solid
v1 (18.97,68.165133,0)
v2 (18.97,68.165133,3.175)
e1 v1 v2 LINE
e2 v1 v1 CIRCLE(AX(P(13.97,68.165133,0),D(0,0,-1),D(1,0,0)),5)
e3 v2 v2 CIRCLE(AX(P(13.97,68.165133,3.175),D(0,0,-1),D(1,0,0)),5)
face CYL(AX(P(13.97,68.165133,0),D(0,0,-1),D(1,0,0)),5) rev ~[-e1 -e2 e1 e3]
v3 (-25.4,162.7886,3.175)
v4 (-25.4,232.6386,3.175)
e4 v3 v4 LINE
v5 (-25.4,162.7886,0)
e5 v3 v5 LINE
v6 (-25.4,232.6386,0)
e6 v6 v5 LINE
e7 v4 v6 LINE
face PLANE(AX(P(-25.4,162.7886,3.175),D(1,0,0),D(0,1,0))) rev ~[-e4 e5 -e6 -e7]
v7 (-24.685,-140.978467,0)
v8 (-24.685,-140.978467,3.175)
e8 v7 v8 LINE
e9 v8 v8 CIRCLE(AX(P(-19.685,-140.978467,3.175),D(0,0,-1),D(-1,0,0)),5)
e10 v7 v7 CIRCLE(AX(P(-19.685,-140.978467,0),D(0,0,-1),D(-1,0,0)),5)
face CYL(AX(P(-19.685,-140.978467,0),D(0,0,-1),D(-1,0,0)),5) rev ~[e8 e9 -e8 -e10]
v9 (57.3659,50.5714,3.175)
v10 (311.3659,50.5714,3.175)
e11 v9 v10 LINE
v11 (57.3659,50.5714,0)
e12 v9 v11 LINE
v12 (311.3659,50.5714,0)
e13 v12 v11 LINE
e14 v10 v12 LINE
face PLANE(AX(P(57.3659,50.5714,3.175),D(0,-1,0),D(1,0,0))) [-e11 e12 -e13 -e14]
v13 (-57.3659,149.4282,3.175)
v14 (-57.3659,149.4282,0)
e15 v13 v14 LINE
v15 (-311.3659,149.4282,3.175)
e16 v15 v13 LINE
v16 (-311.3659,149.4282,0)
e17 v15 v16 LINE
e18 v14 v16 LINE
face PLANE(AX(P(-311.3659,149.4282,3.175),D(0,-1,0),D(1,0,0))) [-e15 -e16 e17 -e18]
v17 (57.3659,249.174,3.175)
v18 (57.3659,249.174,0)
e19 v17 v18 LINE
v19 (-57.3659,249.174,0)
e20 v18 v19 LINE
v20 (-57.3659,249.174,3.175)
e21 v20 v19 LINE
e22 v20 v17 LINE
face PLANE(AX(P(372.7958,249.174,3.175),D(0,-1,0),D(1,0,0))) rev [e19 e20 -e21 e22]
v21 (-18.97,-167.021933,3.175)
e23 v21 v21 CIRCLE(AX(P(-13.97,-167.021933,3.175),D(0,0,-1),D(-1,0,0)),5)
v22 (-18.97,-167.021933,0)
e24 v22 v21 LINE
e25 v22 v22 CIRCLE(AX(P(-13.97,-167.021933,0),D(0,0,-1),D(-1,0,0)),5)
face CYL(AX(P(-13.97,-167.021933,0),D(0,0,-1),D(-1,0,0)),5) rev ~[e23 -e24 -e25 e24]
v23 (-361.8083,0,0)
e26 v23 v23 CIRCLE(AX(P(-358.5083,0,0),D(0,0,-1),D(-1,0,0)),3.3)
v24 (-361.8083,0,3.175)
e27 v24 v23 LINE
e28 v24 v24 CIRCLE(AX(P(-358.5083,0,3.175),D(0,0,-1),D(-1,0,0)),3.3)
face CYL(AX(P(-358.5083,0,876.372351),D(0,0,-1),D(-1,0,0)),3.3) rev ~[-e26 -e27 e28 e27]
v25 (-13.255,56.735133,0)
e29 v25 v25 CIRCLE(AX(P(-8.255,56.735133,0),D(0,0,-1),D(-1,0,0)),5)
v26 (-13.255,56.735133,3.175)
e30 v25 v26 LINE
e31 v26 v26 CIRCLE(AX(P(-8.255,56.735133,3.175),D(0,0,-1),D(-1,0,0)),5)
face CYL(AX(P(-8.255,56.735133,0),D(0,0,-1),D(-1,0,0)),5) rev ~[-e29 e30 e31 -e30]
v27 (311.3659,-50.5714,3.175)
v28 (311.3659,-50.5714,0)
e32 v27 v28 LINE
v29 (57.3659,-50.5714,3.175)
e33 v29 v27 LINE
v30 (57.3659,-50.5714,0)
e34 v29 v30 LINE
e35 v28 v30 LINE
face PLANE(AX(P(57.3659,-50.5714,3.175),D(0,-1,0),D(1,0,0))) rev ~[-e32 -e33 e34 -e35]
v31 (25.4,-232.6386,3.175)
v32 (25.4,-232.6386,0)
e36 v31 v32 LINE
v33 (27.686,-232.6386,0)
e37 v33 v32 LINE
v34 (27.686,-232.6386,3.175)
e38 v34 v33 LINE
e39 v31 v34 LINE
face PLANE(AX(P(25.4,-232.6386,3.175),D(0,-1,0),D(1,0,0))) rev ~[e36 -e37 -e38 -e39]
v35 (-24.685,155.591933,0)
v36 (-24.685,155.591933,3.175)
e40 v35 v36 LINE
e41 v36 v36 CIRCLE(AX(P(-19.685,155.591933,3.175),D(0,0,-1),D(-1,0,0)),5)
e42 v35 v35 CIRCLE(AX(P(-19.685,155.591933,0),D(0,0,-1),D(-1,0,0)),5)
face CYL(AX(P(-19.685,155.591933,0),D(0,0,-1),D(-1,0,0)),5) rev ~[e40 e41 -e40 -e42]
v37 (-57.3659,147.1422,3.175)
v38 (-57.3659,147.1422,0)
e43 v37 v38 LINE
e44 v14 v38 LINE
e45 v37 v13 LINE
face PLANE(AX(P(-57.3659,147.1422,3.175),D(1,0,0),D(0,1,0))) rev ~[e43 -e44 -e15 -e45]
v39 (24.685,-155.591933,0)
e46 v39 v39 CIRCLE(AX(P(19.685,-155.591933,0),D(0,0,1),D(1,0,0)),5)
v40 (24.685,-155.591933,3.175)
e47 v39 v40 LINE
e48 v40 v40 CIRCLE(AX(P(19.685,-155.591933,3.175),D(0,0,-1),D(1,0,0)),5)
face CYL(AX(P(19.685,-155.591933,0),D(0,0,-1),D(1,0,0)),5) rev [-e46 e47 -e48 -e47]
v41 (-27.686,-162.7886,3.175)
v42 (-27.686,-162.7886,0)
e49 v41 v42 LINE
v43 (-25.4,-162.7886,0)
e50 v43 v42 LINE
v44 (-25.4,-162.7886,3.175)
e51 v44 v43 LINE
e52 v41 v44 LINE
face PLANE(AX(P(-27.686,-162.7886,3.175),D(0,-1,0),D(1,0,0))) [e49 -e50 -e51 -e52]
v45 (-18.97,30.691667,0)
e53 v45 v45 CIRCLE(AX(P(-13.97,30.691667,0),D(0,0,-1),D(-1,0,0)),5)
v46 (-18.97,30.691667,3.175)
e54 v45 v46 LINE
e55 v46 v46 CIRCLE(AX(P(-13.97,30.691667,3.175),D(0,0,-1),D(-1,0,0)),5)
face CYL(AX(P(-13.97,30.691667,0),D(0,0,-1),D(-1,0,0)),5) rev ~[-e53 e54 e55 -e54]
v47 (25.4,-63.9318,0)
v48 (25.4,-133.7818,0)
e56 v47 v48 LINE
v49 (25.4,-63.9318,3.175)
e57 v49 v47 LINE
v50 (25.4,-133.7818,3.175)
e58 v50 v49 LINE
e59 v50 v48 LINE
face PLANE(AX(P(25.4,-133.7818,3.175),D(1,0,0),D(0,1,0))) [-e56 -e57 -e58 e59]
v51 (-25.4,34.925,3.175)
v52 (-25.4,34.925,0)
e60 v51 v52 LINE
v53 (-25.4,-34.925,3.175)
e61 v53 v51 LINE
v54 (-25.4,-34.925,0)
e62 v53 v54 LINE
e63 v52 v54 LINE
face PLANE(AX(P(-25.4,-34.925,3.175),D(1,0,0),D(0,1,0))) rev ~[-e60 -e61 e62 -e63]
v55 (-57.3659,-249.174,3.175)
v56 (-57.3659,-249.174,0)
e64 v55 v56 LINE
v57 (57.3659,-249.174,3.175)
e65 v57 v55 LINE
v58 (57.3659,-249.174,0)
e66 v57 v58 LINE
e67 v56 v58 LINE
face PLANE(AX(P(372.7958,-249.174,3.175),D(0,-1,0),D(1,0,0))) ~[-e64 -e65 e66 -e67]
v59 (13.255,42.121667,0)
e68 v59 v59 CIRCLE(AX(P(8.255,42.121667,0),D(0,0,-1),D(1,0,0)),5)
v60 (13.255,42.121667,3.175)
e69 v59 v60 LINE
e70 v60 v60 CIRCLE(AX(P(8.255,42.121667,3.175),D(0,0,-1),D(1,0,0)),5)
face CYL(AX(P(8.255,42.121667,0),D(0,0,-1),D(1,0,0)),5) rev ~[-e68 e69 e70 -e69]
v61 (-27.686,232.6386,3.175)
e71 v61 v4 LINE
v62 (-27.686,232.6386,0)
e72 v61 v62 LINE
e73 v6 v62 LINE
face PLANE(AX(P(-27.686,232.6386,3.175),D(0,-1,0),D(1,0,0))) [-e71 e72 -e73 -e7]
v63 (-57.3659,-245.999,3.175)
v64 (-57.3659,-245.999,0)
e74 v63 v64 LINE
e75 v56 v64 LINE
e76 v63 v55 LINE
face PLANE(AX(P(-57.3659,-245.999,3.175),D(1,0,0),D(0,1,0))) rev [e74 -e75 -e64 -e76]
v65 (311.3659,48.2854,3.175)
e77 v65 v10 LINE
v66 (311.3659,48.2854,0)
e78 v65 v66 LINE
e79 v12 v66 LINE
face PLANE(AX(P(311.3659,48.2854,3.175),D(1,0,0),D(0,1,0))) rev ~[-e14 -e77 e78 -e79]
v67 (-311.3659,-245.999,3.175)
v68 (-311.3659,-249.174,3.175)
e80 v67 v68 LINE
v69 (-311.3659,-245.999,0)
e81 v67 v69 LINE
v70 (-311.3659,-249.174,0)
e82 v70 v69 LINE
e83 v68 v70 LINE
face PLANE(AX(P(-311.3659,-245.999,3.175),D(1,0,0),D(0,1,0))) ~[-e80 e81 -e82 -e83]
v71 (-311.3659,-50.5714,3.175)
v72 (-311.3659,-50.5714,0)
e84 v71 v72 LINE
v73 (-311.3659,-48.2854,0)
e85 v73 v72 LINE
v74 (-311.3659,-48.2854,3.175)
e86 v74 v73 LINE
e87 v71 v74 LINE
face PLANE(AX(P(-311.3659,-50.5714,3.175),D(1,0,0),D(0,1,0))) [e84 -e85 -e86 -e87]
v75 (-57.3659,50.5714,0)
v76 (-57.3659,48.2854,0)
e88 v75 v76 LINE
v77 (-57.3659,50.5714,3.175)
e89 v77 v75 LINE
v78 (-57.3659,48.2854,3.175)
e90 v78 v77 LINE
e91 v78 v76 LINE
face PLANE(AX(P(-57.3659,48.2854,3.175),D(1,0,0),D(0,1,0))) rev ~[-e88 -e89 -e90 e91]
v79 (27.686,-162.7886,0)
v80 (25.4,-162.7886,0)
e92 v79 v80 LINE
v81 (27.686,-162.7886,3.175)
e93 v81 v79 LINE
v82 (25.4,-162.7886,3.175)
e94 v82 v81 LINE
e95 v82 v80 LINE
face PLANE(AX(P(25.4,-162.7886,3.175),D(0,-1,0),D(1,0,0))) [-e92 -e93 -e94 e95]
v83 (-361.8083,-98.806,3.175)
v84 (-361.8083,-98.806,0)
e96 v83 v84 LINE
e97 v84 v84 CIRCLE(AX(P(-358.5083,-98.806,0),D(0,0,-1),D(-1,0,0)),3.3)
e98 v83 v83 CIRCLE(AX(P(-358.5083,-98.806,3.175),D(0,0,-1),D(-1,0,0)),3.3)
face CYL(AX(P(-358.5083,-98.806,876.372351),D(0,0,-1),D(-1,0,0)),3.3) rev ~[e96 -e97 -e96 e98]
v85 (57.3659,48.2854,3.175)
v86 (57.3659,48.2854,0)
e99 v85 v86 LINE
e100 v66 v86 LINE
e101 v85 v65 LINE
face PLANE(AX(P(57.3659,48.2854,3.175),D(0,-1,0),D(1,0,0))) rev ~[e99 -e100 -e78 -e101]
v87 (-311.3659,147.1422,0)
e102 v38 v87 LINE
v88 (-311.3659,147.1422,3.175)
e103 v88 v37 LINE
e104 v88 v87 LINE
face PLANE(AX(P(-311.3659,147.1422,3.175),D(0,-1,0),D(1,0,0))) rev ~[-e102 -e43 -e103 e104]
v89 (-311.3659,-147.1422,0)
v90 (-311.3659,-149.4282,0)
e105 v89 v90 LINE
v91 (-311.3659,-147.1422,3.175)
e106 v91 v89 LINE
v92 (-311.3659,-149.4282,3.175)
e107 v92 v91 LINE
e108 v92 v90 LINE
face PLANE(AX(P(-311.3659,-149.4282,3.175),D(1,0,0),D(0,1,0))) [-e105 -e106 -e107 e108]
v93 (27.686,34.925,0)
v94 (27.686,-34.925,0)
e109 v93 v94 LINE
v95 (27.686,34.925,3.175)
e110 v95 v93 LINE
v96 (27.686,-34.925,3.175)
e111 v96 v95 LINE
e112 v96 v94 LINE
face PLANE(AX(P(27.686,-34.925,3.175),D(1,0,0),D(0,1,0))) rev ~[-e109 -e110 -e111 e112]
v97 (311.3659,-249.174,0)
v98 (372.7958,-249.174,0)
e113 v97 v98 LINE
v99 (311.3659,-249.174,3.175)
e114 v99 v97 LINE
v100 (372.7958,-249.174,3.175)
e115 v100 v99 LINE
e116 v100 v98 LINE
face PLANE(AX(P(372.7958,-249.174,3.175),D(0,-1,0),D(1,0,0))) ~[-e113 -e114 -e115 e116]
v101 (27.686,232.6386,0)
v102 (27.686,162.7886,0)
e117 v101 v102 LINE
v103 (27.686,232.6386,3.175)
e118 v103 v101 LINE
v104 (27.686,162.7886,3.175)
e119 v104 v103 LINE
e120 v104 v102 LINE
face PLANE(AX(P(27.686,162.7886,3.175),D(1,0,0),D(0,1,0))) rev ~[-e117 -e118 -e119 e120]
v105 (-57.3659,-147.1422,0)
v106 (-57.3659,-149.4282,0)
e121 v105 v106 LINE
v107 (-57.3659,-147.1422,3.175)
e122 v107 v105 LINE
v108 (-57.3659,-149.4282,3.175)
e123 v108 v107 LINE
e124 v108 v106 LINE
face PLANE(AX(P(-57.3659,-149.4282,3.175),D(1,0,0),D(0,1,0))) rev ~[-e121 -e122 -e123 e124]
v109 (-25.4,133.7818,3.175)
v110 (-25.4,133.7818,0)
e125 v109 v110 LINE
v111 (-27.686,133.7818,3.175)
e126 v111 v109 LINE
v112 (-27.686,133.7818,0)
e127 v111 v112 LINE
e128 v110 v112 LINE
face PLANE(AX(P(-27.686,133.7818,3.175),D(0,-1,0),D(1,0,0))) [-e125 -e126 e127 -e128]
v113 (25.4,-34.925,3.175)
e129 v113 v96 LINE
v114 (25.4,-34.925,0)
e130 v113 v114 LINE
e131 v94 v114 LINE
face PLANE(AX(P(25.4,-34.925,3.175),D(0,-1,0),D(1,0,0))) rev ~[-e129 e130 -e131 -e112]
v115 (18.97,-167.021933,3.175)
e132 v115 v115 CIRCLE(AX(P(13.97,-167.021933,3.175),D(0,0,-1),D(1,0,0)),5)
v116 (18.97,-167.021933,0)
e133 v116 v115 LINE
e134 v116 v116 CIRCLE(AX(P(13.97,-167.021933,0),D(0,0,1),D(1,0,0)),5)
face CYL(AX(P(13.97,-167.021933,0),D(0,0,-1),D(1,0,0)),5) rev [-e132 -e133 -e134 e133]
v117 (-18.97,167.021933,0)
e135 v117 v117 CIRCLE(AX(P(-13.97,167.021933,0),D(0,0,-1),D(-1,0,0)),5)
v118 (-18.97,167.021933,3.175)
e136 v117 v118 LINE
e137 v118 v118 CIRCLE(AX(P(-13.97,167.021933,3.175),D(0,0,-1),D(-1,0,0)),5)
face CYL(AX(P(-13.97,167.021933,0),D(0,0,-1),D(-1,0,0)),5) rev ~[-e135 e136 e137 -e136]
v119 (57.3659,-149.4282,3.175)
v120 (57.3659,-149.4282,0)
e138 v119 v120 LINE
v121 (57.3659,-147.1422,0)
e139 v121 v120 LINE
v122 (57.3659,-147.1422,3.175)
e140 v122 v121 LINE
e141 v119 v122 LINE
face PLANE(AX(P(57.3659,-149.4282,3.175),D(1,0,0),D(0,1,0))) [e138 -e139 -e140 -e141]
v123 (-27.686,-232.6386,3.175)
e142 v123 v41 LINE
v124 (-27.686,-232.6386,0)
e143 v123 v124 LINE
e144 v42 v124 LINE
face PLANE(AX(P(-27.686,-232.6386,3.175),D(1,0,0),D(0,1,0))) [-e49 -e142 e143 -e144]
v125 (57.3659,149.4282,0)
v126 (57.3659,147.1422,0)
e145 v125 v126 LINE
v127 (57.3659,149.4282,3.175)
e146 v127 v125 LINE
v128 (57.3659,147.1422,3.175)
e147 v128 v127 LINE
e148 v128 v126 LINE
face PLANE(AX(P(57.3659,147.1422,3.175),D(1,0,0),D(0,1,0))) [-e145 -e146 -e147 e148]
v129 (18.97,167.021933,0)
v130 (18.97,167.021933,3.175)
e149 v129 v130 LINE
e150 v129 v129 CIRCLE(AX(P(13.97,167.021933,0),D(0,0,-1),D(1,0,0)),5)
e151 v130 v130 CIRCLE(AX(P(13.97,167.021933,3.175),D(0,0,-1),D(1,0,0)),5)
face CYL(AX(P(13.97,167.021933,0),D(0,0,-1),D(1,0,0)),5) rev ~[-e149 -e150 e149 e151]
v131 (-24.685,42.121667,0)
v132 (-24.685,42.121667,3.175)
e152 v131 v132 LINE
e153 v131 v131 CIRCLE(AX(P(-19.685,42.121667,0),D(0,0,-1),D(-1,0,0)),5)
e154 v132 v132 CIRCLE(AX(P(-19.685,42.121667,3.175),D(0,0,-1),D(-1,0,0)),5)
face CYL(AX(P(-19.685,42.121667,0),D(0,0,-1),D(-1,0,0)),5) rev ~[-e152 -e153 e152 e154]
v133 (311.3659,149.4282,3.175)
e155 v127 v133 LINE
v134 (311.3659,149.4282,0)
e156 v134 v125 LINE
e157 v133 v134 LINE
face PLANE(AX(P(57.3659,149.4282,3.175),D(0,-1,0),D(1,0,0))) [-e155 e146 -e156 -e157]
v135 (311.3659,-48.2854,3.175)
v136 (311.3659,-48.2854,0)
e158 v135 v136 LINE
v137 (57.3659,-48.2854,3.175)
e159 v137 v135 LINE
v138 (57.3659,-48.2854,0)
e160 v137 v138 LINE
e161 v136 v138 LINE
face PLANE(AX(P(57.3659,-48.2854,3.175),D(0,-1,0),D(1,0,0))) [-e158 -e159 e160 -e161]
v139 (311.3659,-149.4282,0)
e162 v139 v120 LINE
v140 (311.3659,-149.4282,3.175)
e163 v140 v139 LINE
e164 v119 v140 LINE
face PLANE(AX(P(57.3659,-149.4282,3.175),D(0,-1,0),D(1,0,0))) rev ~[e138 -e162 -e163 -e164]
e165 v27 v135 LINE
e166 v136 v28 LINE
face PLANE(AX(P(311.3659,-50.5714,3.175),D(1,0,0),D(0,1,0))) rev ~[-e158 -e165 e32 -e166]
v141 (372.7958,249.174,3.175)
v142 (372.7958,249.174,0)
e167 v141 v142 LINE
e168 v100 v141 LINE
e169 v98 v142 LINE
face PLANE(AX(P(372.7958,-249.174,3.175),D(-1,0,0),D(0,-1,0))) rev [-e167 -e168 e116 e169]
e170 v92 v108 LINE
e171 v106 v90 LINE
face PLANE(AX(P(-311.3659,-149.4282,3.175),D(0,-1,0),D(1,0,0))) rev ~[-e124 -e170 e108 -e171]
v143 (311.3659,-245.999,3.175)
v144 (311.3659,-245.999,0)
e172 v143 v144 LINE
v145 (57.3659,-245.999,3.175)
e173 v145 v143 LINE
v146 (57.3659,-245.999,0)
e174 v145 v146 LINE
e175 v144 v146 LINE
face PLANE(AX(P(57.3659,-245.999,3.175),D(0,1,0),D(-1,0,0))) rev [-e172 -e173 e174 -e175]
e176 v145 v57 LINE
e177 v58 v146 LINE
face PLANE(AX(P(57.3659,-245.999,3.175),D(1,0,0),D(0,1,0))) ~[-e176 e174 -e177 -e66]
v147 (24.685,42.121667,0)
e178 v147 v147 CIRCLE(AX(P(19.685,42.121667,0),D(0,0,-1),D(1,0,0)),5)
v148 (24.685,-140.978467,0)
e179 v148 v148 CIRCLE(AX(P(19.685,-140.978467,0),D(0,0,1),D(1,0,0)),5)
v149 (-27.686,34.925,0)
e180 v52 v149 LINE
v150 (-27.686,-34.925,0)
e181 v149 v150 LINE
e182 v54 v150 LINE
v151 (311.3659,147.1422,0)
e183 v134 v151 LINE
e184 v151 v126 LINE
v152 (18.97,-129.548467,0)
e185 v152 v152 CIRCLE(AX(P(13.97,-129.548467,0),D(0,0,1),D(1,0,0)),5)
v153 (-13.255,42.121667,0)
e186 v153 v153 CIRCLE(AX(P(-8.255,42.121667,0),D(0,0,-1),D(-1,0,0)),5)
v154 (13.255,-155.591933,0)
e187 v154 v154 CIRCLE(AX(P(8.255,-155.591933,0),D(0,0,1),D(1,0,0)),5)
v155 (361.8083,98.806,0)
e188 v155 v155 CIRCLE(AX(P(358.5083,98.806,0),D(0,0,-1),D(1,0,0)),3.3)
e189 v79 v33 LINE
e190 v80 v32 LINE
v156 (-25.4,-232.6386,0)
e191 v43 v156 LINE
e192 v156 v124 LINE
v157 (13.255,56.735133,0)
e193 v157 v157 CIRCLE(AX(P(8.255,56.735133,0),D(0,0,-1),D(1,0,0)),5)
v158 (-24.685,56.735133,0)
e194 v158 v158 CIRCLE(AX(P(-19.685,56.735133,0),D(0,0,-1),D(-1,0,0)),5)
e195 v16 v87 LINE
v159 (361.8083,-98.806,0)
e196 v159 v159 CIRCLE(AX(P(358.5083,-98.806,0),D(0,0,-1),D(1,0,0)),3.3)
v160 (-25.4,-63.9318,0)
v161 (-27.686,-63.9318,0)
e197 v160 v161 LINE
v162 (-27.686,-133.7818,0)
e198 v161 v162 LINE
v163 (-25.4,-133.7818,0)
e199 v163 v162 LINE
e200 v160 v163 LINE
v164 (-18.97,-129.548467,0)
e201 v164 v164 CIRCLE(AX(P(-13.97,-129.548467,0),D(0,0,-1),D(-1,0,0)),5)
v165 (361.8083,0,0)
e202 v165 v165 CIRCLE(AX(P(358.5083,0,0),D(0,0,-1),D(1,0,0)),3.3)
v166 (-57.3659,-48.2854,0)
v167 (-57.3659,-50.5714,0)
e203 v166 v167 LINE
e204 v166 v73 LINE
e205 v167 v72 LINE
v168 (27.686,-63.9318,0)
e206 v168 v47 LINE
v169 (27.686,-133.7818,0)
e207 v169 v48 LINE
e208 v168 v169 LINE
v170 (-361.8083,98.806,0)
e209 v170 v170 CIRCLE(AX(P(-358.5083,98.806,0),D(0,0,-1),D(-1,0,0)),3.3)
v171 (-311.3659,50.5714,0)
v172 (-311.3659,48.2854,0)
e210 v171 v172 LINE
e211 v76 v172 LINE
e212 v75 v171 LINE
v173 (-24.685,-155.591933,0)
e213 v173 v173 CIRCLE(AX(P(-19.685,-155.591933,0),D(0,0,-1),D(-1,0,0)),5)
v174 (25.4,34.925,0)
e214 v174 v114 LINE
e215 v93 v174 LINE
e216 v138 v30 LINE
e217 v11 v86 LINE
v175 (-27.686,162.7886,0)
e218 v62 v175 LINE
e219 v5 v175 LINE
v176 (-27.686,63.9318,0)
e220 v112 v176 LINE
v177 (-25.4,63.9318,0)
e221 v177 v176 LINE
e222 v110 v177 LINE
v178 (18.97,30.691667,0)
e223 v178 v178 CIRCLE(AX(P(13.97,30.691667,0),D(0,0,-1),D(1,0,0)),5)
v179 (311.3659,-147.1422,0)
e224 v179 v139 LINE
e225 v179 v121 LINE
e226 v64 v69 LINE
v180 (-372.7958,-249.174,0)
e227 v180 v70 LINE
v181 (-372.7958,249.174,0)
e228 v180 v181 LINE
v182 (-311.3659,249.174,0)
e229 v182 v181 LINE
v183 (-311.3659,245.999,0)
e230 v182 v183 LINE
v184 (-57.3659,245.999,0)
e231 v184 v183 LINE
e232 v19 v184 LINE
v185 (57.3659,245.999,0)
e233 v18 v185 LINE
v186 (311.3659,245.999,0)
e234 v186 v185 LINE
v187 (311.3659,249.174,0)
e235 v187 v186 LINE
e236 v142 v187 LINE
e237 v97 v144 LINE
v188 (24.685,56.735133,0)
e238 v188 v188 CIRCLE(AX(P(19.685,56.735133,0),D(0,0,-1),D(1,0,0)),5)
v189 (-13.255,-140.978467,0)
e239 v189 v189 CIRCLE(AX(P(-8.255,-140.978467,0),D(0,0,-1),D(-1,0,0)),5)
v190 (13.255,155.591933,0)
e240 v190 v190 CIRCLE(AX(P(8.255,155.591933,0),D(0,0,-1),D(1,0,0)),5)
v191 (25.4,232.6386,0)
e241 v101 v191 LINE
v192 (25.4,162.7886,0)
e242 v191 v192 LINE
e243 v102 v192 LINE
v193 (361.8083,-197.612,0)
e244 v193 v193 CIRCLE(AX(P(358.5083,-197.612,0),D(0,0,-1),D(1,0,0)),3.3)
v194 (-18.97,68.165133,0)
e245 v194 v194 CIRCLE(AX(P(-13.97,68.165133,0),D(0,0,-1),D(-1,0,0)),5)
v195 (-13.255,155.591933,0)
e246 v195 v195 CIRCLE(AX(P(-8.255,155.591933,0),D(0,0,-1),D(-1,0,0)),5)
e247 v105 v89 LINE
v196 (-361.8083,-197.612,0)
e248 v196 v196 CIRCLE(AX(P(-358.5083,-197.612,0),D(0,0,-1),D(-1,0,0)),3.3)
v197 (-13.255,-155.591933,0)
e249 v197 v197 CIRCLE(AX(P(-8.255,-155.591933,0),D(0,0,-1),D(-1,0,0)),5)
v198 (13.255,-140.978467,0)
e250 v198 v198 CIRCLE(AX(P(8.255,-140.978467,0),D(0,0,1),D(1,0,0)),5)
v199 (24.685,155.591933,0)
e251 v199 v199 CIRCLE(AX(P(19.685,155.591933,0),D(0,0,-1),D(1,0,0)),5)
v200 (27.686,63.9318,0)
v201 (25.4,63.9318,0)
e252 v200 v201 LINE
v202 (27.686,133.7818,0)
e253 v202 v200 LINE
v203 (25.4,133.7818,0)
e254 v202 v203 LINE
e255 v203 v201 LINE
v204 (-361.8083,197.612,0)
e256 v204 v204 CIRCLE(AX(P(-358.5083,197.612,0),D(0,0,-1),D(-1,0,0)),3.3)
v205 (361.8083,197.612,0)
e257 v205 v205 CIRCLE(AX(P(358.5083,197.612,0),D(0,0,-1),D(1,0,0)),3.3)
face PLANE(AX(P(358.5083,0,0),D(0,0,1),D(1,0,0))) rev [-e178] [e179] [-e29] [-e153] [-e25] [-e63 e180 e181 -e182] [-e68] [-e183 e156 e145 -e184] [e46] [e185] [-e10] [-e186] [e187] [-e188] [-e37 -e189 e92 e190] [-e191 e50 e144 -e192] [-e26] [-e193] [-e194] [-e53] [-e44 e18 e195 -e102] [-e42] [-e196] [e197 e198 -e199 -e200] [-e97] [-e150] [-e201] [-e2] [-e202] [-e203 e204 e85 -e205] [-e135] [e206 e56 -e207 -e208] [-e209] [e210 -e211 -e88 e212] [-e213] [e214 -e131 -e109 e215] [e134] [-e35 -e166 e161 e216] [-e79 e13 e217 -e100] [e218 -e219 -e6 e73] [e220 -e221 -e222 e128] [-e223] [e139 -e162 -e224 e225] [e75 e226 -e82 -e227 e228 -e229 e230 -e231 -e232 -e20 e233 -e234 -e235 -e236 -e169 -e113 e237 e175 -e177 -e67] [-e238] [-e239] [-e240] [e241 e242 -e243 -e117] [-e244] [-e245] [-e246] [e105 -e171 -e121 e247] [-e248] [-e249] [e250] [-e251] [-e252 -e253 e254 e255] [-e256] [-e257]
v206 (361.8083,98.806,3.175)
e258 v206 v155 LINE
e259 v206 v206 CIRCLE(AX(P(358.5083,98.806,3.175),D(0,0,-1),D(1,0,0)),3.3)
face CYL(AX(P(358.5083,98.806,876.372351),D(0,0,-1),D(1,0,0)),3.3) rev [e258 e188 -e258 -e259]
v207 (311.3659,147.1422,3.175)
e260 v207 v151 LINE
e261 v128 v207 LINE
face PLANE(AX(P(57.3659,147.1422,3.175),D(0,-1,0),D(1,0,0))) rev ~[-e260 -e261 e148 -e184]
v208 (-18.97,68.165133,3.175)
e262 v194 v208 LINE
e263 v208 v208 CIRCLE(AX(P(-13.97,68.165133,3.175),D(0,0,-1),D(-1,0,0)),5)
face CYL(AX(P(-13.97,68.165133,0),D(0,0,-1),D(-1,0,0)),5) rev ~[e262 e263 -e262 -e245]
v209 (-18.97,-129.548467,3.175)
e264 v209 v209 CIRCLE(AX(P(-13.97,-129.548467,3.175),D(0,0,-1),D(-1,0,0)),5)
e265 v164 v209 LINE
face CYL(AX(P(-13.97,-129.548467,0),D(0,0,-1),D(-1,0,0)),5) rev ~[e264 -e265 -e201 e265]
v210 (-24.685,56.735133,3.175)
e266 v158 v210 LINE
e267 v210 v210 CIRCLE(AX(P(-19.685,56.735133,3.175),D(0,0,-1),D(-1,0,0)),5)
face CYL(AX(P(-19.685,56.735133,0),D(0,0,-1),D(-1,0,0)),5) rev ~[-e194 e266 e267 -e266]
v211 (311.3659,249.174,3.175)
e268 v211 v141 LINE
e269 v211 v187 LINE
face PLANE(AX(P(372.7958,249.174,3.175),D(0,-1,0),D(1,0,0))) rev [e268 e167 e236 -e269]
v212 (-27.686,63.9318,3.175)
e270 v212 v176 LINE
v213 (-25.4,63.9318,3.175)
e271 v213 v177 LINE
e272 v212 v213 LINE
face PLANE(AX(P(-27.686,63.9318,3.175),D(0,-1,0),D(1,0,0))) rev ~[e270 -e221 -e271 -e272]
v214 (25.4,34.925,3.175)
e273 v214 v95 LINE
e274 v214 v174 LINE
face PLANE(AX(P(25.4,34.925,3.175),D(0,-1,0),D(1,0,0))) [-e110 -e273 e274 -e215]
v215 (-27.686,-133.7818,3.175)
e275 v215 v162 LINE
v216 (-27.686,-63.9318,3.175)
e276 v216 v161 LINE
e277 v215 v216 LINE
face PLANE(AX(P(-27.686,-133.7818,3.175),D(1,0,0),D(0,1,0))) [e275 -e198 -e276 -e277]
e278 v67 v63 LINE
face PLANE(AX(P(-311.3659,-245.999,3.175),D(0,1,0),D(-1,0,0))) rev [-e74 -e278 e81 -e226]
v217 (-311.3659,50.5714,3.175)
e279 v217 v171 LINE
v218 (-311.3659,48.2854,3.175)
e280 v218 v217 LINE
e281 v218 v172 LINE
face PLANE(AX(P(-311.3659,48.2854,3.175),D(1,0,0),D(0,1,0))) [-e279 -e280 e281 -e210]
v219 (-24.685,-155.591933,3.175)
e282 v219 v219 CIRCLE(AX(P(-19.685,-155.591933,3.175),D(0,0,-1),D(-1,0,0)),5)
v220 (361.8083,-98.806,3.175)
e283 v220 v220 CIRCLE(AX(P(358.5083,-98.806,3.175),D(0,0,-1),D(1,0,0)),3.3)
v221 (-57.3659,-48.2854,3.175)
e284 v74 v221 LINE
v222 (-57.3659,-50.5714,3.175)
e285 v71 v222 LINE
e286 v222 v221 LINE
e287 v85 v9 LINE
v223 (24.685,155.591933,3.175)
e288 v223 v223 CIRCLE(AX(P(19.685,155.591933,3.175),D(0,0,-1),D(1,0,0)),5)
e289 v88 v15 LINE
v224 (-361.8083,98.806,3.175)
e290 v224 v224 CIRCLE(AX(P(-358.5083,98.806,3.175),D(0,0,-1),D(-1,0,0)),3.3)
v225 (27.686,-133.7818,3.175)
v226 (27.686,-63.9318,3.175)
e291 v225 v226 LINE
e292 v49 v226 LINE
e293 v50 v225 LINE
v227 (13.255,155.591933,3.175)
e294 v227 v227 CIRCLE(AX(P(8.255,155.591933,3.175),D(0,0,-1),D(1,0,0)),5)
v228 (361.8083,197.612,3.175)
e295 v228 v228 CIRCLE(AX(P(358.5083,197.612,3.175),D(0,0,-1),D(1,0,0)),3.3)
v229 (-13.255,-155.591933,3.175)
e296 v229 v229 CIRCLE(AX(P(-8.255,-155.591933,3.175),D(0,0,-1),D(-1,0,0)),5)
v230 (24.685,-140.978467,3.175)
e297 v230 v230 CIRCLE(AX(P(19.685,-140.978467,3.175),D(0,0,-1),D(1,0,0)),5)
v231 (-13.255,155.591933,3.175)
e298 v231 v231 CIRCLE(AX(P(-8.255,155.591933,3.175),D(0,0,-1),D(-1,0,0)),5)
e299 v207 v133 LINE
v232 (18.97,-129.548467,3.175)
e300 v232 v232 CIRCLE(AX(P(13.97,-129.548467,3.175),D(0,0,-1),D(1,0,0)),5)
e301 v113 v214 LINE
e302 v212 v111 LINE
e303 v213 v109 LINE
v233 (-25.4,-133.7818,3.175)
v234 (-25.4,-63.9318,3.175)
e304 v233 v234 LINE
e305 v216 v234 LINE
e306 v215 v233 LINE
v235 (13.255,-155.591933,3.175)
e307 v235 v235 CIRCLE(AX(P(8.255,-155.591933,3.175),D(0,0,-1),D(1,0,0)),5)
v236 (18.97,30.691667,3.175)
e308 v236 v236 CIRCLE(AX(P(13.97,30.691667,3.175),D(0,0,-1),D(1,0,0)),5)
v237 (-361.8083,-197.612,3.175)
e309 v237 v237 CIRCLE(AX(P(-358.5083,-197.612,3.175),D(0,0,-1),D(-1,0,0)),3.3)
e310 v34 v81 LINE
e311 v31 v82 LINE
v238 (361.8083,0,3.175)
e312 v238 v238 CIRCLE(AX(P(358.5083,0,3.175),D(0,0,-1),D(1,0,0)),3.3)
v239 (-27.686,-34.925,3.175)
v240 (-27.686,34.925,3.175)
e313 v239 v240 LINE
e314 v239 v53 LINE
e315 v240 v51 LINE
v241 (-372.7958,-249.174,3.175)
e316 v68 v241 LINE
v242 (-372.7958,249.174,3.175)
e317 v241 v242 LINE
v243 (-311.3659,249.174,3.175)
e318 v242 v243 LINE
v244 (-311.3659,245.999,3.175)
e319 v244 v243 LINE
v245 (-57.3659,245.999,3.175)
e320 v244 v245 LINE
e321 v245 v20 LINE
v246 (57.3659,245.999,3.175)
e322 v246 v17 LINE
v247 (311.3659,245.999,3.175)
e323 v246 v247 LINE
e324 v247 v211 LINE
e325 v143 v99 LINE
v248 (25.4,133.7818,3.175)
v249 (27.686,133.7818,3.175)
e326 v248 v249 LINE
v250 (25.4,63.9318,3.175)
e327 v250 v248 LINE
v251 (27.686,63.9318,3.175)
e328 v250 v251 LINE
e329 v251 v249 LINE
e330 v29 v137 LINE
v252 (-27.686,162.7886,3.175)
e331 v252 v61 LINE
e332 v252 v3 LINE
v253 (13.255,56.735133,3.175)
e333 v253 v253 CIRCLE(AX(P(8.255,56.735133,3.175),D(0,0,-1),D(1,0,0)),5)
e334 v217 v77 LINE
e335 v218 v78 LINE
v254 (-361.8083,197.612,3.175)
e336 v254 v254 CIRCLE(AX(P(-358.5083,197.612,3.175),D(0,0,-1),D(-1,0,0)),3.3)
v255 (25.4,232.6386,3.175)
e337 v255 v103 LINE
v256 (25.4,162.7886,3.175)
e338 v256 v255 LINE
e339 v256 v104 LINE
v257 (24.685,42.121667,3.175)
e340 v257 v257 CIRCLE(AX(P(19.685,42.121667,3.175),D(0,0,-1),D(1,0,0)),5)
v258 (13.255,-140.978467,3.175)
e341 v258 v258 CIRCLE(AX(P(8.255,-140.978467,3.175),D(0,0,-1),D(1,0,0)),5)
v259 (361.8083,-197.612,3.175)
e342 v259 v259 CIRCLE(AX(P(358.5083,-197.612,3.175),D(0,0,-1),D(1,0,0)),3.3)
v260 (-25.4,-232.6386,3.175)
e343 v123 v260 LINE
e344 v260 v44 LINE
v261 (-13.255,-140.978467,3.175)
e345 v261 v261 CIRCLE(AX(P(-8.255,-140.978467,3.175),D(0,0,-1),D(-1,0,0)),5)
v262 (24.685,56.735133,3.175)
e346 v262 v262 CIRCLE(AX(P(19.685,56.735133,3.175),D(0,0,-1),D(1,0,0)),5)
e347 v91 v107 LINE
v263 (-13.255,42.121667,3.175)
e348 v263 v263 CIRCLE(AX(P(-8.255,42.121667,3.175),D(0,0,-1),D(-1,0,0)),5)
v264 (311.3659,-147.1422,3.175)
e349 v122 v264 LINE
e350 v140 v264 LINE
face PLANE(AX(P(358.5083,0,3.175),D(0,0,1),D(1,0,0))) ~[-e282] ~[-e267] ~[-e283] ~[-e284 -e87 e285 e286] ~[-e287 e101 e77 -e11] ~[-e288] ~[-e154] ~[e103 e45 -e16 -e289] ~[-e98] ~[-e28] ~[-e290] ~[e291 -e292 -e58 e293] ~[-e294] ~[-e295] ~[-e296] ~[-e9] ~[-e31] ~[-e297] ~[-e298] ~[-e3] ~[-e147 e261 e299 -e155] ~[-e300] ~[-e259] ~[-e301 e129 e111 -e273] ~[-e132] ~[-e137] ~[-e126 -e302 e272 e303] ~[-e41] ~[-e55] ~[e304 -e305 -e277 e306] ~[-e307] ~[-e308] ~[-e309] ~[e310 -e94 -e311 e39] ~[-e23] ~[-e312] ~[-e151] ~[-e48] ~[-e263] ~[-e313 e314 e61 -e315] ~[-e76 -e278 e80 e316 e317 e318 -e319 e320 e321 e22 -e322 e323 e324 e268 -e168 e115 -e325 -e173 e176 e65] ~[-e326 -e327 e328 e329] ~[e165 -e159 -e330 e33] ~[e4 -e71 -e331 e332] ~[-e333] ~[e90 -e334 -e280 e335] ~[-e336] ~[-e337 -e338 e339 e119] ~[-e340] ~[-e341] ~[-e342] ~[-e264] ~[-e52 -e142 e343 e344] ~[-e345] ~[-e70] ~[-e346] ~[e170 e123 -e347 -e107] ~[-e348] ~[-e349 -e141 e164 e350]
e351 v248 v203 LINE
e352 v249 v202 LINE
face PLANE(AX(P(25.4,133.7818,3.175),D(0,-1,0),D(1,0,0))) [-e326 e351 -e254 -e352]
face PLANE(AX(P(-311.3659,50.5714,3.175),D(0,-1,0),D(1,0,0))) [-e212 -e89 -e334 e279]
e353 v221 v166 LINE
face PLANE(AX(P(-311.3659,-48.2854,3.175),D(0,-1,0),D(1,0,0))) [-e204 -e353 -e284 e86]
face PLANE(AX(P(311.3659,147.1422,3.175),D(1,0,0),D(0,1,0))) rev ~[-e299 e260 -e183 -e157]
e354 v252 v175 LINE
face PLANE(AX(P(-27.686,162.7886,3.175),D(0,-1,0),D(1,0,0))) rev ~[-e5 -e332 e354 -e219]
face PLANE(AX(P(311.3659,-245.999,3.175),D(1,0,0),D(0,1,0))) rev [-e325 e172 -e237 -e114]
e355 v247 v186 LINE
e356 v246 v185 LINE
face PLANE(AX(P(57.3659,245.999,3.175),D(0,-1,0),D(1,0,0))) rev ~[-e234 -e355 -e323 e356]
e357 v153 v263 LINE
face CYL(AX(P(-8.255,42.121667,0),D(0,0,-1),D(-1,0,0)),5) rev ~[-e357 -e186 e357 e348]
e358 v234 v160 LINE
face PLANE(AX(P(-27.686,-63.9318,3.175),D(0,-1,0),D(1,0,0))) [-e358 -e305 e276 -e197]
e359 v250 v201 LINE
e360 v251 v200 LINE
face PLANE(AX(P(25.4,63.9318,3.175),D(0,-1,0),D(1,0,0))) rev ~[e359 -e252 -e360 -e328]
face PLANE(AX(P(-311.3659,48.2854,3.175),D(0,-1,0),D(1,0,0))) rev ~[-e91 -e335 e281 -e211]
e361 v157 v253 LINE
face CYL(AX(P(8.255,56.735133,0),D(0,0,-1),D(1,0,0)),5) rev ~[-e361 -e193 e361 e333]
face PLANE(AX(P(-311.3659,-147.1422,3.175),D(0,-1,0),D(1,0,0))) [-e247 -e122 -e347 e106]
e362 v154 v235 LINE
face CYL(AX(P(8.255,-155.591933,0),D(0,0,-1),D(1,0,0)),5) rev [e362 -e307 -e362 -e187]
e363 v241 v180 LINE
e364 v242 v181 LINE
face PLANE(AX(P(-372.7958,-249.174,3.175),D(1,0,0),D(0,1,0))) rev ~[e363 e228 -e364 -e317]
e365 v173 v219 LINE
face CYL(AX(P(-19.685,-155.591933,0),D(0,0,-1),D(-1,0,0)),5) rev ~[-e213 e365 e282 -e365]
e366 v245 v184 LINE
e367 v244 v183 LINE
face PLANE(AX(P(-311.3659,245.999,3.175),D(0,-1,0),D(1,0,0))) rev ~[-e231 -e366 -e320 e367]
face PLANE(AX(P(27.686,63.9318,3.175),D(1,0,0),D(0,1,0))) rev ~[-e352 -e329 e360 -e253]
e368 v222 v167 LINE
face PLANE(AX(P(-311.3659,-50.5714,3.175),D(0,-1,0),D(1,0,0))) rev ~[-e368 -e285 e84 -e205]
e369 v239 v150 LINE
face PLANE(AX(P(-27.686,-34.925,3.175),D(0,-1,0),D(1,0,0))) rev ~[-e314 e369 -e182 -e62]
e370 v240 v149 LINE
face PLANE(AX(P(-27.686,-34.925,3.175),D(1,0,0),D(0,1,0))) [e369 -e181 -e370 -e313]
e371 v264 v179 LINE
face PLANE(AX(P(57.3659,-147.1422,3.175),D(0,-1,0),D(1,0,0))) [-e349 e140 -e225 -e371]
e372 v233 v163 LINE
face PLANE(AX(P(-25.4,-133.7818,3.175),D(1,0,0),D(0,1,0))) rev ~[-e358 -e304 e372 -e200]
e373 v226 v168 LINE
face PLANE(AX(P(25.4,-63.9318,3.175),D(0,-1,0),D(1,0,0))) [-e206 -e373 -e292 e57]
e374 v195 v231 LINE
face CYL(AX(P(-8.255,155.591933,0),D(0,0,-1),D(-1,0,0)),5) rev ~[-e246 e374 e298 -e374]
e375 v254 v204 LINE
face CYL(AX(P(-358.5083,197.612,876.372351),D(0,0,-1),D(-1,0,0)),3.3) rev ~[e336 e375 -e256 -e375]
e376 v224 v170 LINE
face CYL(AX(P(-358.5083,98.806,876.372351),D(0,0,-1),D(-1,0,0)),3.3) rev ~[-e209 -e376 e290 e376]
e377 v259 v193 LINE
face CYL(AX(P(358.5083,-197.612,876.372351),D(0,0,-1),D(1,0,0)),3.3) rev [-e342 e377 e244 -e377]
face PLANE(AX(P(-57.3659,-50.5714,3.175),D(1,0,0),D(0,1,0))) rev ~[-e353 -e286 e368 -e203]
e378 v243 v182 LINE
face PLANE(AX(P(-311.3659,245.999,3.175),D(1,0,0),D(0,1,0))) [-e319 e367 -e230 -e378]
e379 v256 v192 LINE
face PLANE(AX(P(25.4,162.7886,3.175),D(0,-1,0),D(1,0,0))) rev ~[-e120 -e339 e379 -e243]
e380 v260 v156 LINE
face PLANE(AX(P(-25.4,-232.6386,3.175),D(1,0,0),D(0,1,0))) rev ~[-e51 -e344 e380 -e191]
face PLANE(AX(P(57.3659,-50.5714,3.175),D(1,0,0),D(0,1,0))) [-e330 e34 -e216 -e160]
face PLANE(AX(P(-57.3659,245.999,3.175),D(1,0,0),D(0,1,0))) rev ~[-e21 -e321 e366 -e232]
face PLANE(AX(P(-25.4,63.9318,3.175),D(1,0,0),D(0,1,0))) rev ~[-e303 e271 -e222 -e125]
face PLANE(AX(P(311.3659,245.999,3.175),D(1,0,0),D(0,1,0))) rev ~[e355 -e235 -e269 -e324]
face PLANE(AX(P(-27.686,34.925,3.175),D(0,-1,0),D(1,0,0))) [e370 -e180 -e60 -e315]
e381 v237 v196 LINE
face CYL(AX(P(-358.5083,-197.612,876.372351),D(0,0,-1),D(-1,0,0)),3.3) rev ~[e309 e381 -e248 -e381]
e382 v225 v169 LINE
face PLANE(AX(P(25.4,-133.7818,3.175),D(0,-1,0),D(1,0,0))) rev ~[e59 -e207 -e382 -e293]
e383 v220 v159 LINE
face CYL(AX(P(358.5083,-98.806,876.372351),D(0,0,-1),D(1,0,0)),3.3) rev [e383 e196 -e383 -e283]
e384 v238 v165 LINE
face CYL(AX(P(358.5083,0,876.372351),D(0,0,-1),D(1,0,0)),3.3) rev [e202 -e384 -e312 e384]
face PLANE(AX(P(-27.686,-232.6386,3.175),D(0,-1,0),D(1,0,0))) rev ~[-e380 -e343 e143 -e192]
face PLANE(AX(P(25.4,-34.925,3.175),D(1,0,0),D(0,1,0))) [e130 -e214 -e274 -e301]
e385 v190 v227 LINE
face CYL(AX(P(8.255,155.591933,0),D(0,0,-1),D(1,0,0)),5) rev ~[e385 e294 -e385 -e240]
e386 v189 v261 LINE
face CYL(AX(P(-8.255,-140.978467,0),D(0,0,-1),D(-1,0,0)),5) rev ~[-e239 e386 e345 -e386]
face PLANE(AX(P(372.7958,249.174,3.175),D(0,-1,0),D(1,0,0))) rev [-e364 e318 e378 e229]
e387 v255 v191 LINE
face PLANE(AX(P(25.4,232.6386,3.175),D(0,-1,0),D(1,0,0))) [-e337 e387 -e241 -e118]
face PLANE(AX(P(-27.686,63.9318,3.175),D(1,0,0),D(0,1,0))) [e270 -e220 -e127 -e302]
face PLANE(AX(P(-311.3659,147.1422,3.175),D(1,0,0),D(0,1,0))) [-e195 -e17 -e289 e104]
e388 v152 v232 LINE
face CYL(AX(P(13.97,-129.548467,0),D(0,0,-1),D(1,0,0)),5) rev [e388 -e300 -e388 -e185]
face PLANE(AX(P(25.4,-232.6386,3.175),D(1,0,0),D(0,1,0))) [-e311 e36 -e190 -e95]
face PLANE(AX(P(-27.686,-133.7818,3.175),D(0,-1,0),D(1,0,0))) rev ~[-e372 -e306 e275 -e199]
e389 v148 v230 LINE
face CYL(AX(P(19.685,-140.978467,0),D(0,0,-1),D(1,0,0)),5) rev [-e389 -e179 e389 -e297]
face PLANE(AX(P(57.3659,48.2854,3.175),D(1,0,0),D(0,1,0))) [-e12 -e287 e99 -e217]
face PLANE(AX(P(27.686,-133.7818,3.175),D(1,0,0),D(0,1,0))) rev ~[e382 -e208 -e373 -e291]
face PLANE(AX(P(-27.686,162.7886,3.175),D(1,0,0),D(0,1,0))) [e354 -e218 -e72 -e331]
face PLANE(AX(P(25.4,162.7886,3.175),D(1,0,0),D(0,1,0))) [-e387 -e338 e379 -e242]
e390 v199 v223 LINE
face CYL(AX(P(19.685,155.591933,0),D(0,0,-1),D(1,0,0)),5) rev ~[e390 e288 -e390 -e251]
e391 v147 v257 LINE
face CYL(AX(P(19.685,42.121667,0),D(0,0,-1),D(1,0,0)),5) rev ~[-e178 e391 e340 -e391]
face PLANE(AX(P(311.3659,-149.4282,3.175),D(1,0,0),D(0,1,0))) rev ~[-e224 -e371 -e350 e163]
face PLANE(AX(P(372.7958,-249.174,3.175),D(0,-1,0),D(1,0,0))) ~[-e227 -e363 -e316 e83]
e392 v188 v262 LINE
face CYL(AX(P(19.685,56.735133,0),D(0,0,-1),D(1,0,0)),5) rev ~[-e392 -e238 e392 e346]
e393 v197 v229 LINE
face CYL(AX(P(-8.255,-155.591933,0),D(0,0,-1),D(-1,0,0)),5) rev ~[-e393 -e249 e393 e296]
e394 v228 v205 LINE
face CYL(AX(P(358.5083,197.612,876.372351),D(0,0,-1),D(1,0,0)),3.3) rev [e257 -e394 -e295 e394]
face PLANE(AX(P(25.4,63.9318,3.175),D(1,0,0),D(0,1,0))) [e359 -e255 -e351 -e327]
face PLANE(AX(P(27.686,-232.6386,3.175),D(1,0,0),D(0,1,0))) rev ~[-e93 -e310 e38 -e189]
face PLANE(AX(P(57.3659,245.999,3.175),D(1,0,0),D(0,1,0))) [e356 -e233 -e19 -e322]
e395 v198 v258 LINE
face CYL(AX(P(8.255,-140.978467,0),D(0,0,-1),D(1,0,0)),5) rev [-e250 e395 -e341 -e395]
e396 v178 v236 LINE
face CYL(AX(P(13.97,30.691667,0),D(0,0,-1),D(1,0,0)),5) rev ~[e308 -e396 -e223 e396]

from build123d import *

# Parameters (mm, degrees)
MASTER_SKETCH_W           = 688.4416
MASTER_SKETCH_H           = 498.348
BOSS_EXTRUDE1_DEPTH       = 3.175
SKETCH1_W                 = 28.575
SKETCH1_H                 = 498.348
BOSS_EXTRUDE2_DEPTH       = 3.175
M6_CLEARANCE_HOLE1_D      = 6.6
SKETCH5_W                 = 2.286
SKETCH5_H                 = 69.85
CUT_EXTRUDE1_DEPTH        = 449.413281916
LPATTERN1_COUNT           = 5
LPATTERN1_PITCH           = 98.8568
SKETCH6_W                 = 254
SKETCH6_H                 = 3.175
CUT_EXTRUDE2_DEPTH        = 449.413281916
SKETCH7_W                 = 254
SKETCH7_H                 = 2.286
CUT_EXTRUDE3_DEPTH        = 449.413281916
LPATTERN2_COUNT           = 4
LPATTERN2_PITCH           = 98.8568
SKETCH8_R                 = 5
CUT_EXTRUDE4_DEPTH        = 449.413281916
LPATTERN3_COUNT           = 2
LPATTERN3_PITCH           = 197.7136
LPATTERN3_COPY_1_SKETCH_R = 5
LPATTERN3_COPY_1_DEPTH    = 449.413281916
SKETCH9_R                 = 5
CUT_EXTRUDE5_DEPTH        = 449.413281916
LPATTERN4_COUNT           = 4
LPATTERN4_PITCH           = 98.8568
LPATTERN4_COPY_1_SKETCH_R = 5
LPATTERN4_COPY_1_DEPTH    = 449.413281916
LPATTERN4_COPY_2_SKETCH_R = 5
LPATTERN4_COPY_2_DEPTH    = 449.413281916


with BuildPart() as part:
    # Master Sketch → Boss-Extrude1 (new body)
    with BuildSketch(Plane.XY):
        Rectangle(MASTER_SKETCH_W, MASTER_SKETCH_H)
    extrude(amount=BOSS_EXTRUDE1_DEPTH)

    # Sketch1 → Boss-Extrude2 (add)
    with BuildSketch(Plane.XY.offset(3.175)):
        with Locations((-358.5083, 0)):
            Rectangle(SKETCH1_W, SKETCH1_H)
    boss_extrude2 = extrude(amount=-BOSS_EXTRUDE2_DEPTH)

    # M6 Clearance Hole1 (through all)
    with Locations(Plane.XY.offset(3.175)):
        with Locations((-358.5083, -197.612), (-358.5083, -98.806), (-358.5083, 0), (-358.5083, 98.806), (-358.5083, 197.612)):
            m6_clearance_hole1 = Hole(M6_CLEARANCE_HOLE1_D / 2)

    # Mirror1: Boss-Extrude2, M6 Clearance Hole1 across plane
    add(boss_extrude2.mirror(Plane(origin=(0, 0, 0), x_dir=(0, 0, 1), z_dir=(1, 0, 0))))
    add(m6_clearance_hole1.mirror(Plane(origin=(0, 0, 0), x_dir=(0, 0, 1), z_dir=(1, 0, 0))), mode=Mode.SUBTRACT)

    # Sketch5 → Cut-Extrude1 (cut, through all)
    with BuildSketch(Plane.XY.offset(3.175)):
        with Locations((26.543, 197.7136)):
            Rectangle(SKETCH5_W, SKETCH5_H)
        with Locations((-26.543, 197.7136)):
            Rectangle(SKETCH5_W, SKETCH5_H)
    cut_extrude1 = extrude(amount=-CUT_EXTRUDE1_DEPTH, mode=Mode.SUBTRACT)

    # LPattern1: Cut-Extrude1 ×5
    with Locations(*[(0, -i * LPATTERN1_PITCH, 0) for i in range(1, LPATTERN1_COUNT)]):
        add(cut_extrude1, mode=Mode.SUBTRACT)

    # Sketch6 → Cut-Extrude2 (cut, through all)
    with BuildSketch(Plane.XY.offset(3.175)):
        with Locations((-184.3659, 247.5865)):
            Rectangle(SKETCH6_W, SKETCH6_H)
        with Locations((184.3659, 247.5865)):
            Rectangle(SKETCH6_W, SKETCH6_H)
    cut_extrude2 = extrude(amount=-CUT_EXTRUDE2_DEPTH, mode=Mode.SUBTRACT)

    # Mirror2: Cut-Extrude2 across plane
    add(cut_extrude2.mirror(Plane.ZX), mode=Mode.SUBTRACT)

    # Sketch7 → Cut-Extrude3 (cut, through all)
    with BuildSketch(Plane.XY.offset(3.175)):
        with Locations((-184.3659, 148.2852)):
            Rectangle(SKETCH7_W, SKETCH7_H)
        with Locations((184.3659, 148.2852)):
            Rectangle(SKETCH7_W, SKETCH7_H)
    cut_extrude3 = extrude(amount=-CUT_EXTRUDE3_DEPTH, mode=Mode.SUBTRACT)

    # LPattern2: Cut-Extrude3 ×4
    with Locations(*[(0, -i * LPATTERN2_PITCH, 0) for i in range(1, LPATTERN2_COUNT)]):
        add(cut_extrude3, mode=Mode.SUBTRACT)

    # Sketch8 → Cut-Extrude4 (cut, through all)
    with BuildSketch(Plane(origin=(0, 0, 0), x_dir=(-1, 0, 0), z_dir=(0, 0, -1))):
        with Locations((8.255, -155.591933333)):
            Circle(SKETCH8_R)
        with Locations((19.685, -155.591933333)):
            Circle(SKETCH8_R)
        with Locations((13.97, -167.021933333)):
            Circle(SKETCH8_R)
    cut_extrude4 = extrude(amount=-CUT_EXTRUDE4_DEPTH, mode=Mode.SUBTRACT)

    # Mirror3: Cut-Extrude4 across plane
    add(cut_extrude4.mirror(Plane(origin=(0, 0, 0), x_dir=(0, 0, 1), z_dir=(1, 0, 0))), mode=Mode.SUBTRACT)

    # LPattern3: Cut-Extrude4 ×2
    with Locations(*[(0, i * LPATTERN3_PITCH, 0) for i in range(1, LPATTERN3_COUNT)]):
        add(cut_extrude4, mode=Mode.SUBTRACT)

    # LPattern3 copy 1 sketch → LPattern3 copy 1 (cut, through all)
    with BuildSketch(Plane(origin=(0, 197.7136, 0), x_dir=(1, 0, 0), z_dir=(0, 0, -1))):
        with Locations((8.255, 155.591933333)):
            Circle(LPATTERN3_COPY_1_SKETCH_R)
        with Locations((19.685, 155.591933333)):
            Circle(LPATTERN3_COPY_1_SKETCH_R)
        with Locations((13.97, 167.021933333)):
            Circle(LPATTERN3_COPY_1_SKETCH_R)
    extrude(amount=-LPATTERN3_COPY_1_DEPTH, mode=Mode.SUBTRACT)

    # Sketch9 → Cut-Extrude5 (cut, through all)
    with BuildSketch(Plane(origin=(0, 0, 0), x_dir=(-1, 0, 0), z_dir=(0, 0, -1))):
        with Locations((8.255, -140.978466667)):
            Circle(SKETCH9_R)
        with Locations((13.97, -129.548466667)):
            Circle(SKETCH9_R)
        with Locations((19.685, -140.978466667)):
            Circle(SKETCH9_R)
    cut_extrude5 = extrude(amount=-CUT_EXTRUDE5_DEPTH, mode=Mode.SUBTRACT)

    # Mirror4: Cut-Extrude5 across plane
    add(cut_extrude5.mirror(Plane(origin=(0, 0, 0), x_dir=(0, 0, 1), z_dir=(1, 0, 0))), mode=Mode.SUBTRACT)

    # LPattern4: Cut-Extrude5 ×4, 1 skipped
    with Locations(*[(0, i * LPATTERN4_PITCH, 0) for i in range(1, LPATTERN4_COUNT) if i not in (1,)]):
        add(cut_extrude5, mode=Mode.SUBTRACT)

    # LPattern4 copy 1 sketch → LPattern4 copy 1 (cut, through all)
    with BuildSketch(Plane(origin=(0, 197.7136, 0), x_dir=(1, 0, 0), z_dir=(0, 0, -1))):
        with Locations((8.255, 140.978466667)):
            Circle(LPATTERN4_COPY_1_SKETCH_R)
        with Locations((13.97, 129.548466667)):
            Circle(LPATTERN4_COPY_1_SKETCH_R)
        with Locations((19.685, 140.978466667)):
            Circle(LPATTERN4_COPY_1_SKETCH_R)
    extrude(amount=-LPATTERN4_COPY_1_DEPTH, mode=Mode.SUBTRACT)

    # LPattern4 copy 2 sketch → LPattern4 copy 2 (cut, through all)
    with BuildSketch(Plane(origin=(0, 296.5704, 0), x_dir=(1, 0, 0), z_dir=(0, 0, -1))):
        with Locations((8.255, 140.978466667)):
            Circle(LPATTERN4_COPY_2_SKETCH_R)
        with Locations((13.97, 129.548466667)):
            Circle(LPATTERN4_COPY_2_SKETCH_R)
        with Locations((19.685, 140.978466667)):
            Circle(LPATTERN4_COPY_2_SKETCH_R)
    extrude(amount=-LPATTERN4_COPY_2_DEPTH, mode=Mode.SUBTRACT)


solid = part.part
